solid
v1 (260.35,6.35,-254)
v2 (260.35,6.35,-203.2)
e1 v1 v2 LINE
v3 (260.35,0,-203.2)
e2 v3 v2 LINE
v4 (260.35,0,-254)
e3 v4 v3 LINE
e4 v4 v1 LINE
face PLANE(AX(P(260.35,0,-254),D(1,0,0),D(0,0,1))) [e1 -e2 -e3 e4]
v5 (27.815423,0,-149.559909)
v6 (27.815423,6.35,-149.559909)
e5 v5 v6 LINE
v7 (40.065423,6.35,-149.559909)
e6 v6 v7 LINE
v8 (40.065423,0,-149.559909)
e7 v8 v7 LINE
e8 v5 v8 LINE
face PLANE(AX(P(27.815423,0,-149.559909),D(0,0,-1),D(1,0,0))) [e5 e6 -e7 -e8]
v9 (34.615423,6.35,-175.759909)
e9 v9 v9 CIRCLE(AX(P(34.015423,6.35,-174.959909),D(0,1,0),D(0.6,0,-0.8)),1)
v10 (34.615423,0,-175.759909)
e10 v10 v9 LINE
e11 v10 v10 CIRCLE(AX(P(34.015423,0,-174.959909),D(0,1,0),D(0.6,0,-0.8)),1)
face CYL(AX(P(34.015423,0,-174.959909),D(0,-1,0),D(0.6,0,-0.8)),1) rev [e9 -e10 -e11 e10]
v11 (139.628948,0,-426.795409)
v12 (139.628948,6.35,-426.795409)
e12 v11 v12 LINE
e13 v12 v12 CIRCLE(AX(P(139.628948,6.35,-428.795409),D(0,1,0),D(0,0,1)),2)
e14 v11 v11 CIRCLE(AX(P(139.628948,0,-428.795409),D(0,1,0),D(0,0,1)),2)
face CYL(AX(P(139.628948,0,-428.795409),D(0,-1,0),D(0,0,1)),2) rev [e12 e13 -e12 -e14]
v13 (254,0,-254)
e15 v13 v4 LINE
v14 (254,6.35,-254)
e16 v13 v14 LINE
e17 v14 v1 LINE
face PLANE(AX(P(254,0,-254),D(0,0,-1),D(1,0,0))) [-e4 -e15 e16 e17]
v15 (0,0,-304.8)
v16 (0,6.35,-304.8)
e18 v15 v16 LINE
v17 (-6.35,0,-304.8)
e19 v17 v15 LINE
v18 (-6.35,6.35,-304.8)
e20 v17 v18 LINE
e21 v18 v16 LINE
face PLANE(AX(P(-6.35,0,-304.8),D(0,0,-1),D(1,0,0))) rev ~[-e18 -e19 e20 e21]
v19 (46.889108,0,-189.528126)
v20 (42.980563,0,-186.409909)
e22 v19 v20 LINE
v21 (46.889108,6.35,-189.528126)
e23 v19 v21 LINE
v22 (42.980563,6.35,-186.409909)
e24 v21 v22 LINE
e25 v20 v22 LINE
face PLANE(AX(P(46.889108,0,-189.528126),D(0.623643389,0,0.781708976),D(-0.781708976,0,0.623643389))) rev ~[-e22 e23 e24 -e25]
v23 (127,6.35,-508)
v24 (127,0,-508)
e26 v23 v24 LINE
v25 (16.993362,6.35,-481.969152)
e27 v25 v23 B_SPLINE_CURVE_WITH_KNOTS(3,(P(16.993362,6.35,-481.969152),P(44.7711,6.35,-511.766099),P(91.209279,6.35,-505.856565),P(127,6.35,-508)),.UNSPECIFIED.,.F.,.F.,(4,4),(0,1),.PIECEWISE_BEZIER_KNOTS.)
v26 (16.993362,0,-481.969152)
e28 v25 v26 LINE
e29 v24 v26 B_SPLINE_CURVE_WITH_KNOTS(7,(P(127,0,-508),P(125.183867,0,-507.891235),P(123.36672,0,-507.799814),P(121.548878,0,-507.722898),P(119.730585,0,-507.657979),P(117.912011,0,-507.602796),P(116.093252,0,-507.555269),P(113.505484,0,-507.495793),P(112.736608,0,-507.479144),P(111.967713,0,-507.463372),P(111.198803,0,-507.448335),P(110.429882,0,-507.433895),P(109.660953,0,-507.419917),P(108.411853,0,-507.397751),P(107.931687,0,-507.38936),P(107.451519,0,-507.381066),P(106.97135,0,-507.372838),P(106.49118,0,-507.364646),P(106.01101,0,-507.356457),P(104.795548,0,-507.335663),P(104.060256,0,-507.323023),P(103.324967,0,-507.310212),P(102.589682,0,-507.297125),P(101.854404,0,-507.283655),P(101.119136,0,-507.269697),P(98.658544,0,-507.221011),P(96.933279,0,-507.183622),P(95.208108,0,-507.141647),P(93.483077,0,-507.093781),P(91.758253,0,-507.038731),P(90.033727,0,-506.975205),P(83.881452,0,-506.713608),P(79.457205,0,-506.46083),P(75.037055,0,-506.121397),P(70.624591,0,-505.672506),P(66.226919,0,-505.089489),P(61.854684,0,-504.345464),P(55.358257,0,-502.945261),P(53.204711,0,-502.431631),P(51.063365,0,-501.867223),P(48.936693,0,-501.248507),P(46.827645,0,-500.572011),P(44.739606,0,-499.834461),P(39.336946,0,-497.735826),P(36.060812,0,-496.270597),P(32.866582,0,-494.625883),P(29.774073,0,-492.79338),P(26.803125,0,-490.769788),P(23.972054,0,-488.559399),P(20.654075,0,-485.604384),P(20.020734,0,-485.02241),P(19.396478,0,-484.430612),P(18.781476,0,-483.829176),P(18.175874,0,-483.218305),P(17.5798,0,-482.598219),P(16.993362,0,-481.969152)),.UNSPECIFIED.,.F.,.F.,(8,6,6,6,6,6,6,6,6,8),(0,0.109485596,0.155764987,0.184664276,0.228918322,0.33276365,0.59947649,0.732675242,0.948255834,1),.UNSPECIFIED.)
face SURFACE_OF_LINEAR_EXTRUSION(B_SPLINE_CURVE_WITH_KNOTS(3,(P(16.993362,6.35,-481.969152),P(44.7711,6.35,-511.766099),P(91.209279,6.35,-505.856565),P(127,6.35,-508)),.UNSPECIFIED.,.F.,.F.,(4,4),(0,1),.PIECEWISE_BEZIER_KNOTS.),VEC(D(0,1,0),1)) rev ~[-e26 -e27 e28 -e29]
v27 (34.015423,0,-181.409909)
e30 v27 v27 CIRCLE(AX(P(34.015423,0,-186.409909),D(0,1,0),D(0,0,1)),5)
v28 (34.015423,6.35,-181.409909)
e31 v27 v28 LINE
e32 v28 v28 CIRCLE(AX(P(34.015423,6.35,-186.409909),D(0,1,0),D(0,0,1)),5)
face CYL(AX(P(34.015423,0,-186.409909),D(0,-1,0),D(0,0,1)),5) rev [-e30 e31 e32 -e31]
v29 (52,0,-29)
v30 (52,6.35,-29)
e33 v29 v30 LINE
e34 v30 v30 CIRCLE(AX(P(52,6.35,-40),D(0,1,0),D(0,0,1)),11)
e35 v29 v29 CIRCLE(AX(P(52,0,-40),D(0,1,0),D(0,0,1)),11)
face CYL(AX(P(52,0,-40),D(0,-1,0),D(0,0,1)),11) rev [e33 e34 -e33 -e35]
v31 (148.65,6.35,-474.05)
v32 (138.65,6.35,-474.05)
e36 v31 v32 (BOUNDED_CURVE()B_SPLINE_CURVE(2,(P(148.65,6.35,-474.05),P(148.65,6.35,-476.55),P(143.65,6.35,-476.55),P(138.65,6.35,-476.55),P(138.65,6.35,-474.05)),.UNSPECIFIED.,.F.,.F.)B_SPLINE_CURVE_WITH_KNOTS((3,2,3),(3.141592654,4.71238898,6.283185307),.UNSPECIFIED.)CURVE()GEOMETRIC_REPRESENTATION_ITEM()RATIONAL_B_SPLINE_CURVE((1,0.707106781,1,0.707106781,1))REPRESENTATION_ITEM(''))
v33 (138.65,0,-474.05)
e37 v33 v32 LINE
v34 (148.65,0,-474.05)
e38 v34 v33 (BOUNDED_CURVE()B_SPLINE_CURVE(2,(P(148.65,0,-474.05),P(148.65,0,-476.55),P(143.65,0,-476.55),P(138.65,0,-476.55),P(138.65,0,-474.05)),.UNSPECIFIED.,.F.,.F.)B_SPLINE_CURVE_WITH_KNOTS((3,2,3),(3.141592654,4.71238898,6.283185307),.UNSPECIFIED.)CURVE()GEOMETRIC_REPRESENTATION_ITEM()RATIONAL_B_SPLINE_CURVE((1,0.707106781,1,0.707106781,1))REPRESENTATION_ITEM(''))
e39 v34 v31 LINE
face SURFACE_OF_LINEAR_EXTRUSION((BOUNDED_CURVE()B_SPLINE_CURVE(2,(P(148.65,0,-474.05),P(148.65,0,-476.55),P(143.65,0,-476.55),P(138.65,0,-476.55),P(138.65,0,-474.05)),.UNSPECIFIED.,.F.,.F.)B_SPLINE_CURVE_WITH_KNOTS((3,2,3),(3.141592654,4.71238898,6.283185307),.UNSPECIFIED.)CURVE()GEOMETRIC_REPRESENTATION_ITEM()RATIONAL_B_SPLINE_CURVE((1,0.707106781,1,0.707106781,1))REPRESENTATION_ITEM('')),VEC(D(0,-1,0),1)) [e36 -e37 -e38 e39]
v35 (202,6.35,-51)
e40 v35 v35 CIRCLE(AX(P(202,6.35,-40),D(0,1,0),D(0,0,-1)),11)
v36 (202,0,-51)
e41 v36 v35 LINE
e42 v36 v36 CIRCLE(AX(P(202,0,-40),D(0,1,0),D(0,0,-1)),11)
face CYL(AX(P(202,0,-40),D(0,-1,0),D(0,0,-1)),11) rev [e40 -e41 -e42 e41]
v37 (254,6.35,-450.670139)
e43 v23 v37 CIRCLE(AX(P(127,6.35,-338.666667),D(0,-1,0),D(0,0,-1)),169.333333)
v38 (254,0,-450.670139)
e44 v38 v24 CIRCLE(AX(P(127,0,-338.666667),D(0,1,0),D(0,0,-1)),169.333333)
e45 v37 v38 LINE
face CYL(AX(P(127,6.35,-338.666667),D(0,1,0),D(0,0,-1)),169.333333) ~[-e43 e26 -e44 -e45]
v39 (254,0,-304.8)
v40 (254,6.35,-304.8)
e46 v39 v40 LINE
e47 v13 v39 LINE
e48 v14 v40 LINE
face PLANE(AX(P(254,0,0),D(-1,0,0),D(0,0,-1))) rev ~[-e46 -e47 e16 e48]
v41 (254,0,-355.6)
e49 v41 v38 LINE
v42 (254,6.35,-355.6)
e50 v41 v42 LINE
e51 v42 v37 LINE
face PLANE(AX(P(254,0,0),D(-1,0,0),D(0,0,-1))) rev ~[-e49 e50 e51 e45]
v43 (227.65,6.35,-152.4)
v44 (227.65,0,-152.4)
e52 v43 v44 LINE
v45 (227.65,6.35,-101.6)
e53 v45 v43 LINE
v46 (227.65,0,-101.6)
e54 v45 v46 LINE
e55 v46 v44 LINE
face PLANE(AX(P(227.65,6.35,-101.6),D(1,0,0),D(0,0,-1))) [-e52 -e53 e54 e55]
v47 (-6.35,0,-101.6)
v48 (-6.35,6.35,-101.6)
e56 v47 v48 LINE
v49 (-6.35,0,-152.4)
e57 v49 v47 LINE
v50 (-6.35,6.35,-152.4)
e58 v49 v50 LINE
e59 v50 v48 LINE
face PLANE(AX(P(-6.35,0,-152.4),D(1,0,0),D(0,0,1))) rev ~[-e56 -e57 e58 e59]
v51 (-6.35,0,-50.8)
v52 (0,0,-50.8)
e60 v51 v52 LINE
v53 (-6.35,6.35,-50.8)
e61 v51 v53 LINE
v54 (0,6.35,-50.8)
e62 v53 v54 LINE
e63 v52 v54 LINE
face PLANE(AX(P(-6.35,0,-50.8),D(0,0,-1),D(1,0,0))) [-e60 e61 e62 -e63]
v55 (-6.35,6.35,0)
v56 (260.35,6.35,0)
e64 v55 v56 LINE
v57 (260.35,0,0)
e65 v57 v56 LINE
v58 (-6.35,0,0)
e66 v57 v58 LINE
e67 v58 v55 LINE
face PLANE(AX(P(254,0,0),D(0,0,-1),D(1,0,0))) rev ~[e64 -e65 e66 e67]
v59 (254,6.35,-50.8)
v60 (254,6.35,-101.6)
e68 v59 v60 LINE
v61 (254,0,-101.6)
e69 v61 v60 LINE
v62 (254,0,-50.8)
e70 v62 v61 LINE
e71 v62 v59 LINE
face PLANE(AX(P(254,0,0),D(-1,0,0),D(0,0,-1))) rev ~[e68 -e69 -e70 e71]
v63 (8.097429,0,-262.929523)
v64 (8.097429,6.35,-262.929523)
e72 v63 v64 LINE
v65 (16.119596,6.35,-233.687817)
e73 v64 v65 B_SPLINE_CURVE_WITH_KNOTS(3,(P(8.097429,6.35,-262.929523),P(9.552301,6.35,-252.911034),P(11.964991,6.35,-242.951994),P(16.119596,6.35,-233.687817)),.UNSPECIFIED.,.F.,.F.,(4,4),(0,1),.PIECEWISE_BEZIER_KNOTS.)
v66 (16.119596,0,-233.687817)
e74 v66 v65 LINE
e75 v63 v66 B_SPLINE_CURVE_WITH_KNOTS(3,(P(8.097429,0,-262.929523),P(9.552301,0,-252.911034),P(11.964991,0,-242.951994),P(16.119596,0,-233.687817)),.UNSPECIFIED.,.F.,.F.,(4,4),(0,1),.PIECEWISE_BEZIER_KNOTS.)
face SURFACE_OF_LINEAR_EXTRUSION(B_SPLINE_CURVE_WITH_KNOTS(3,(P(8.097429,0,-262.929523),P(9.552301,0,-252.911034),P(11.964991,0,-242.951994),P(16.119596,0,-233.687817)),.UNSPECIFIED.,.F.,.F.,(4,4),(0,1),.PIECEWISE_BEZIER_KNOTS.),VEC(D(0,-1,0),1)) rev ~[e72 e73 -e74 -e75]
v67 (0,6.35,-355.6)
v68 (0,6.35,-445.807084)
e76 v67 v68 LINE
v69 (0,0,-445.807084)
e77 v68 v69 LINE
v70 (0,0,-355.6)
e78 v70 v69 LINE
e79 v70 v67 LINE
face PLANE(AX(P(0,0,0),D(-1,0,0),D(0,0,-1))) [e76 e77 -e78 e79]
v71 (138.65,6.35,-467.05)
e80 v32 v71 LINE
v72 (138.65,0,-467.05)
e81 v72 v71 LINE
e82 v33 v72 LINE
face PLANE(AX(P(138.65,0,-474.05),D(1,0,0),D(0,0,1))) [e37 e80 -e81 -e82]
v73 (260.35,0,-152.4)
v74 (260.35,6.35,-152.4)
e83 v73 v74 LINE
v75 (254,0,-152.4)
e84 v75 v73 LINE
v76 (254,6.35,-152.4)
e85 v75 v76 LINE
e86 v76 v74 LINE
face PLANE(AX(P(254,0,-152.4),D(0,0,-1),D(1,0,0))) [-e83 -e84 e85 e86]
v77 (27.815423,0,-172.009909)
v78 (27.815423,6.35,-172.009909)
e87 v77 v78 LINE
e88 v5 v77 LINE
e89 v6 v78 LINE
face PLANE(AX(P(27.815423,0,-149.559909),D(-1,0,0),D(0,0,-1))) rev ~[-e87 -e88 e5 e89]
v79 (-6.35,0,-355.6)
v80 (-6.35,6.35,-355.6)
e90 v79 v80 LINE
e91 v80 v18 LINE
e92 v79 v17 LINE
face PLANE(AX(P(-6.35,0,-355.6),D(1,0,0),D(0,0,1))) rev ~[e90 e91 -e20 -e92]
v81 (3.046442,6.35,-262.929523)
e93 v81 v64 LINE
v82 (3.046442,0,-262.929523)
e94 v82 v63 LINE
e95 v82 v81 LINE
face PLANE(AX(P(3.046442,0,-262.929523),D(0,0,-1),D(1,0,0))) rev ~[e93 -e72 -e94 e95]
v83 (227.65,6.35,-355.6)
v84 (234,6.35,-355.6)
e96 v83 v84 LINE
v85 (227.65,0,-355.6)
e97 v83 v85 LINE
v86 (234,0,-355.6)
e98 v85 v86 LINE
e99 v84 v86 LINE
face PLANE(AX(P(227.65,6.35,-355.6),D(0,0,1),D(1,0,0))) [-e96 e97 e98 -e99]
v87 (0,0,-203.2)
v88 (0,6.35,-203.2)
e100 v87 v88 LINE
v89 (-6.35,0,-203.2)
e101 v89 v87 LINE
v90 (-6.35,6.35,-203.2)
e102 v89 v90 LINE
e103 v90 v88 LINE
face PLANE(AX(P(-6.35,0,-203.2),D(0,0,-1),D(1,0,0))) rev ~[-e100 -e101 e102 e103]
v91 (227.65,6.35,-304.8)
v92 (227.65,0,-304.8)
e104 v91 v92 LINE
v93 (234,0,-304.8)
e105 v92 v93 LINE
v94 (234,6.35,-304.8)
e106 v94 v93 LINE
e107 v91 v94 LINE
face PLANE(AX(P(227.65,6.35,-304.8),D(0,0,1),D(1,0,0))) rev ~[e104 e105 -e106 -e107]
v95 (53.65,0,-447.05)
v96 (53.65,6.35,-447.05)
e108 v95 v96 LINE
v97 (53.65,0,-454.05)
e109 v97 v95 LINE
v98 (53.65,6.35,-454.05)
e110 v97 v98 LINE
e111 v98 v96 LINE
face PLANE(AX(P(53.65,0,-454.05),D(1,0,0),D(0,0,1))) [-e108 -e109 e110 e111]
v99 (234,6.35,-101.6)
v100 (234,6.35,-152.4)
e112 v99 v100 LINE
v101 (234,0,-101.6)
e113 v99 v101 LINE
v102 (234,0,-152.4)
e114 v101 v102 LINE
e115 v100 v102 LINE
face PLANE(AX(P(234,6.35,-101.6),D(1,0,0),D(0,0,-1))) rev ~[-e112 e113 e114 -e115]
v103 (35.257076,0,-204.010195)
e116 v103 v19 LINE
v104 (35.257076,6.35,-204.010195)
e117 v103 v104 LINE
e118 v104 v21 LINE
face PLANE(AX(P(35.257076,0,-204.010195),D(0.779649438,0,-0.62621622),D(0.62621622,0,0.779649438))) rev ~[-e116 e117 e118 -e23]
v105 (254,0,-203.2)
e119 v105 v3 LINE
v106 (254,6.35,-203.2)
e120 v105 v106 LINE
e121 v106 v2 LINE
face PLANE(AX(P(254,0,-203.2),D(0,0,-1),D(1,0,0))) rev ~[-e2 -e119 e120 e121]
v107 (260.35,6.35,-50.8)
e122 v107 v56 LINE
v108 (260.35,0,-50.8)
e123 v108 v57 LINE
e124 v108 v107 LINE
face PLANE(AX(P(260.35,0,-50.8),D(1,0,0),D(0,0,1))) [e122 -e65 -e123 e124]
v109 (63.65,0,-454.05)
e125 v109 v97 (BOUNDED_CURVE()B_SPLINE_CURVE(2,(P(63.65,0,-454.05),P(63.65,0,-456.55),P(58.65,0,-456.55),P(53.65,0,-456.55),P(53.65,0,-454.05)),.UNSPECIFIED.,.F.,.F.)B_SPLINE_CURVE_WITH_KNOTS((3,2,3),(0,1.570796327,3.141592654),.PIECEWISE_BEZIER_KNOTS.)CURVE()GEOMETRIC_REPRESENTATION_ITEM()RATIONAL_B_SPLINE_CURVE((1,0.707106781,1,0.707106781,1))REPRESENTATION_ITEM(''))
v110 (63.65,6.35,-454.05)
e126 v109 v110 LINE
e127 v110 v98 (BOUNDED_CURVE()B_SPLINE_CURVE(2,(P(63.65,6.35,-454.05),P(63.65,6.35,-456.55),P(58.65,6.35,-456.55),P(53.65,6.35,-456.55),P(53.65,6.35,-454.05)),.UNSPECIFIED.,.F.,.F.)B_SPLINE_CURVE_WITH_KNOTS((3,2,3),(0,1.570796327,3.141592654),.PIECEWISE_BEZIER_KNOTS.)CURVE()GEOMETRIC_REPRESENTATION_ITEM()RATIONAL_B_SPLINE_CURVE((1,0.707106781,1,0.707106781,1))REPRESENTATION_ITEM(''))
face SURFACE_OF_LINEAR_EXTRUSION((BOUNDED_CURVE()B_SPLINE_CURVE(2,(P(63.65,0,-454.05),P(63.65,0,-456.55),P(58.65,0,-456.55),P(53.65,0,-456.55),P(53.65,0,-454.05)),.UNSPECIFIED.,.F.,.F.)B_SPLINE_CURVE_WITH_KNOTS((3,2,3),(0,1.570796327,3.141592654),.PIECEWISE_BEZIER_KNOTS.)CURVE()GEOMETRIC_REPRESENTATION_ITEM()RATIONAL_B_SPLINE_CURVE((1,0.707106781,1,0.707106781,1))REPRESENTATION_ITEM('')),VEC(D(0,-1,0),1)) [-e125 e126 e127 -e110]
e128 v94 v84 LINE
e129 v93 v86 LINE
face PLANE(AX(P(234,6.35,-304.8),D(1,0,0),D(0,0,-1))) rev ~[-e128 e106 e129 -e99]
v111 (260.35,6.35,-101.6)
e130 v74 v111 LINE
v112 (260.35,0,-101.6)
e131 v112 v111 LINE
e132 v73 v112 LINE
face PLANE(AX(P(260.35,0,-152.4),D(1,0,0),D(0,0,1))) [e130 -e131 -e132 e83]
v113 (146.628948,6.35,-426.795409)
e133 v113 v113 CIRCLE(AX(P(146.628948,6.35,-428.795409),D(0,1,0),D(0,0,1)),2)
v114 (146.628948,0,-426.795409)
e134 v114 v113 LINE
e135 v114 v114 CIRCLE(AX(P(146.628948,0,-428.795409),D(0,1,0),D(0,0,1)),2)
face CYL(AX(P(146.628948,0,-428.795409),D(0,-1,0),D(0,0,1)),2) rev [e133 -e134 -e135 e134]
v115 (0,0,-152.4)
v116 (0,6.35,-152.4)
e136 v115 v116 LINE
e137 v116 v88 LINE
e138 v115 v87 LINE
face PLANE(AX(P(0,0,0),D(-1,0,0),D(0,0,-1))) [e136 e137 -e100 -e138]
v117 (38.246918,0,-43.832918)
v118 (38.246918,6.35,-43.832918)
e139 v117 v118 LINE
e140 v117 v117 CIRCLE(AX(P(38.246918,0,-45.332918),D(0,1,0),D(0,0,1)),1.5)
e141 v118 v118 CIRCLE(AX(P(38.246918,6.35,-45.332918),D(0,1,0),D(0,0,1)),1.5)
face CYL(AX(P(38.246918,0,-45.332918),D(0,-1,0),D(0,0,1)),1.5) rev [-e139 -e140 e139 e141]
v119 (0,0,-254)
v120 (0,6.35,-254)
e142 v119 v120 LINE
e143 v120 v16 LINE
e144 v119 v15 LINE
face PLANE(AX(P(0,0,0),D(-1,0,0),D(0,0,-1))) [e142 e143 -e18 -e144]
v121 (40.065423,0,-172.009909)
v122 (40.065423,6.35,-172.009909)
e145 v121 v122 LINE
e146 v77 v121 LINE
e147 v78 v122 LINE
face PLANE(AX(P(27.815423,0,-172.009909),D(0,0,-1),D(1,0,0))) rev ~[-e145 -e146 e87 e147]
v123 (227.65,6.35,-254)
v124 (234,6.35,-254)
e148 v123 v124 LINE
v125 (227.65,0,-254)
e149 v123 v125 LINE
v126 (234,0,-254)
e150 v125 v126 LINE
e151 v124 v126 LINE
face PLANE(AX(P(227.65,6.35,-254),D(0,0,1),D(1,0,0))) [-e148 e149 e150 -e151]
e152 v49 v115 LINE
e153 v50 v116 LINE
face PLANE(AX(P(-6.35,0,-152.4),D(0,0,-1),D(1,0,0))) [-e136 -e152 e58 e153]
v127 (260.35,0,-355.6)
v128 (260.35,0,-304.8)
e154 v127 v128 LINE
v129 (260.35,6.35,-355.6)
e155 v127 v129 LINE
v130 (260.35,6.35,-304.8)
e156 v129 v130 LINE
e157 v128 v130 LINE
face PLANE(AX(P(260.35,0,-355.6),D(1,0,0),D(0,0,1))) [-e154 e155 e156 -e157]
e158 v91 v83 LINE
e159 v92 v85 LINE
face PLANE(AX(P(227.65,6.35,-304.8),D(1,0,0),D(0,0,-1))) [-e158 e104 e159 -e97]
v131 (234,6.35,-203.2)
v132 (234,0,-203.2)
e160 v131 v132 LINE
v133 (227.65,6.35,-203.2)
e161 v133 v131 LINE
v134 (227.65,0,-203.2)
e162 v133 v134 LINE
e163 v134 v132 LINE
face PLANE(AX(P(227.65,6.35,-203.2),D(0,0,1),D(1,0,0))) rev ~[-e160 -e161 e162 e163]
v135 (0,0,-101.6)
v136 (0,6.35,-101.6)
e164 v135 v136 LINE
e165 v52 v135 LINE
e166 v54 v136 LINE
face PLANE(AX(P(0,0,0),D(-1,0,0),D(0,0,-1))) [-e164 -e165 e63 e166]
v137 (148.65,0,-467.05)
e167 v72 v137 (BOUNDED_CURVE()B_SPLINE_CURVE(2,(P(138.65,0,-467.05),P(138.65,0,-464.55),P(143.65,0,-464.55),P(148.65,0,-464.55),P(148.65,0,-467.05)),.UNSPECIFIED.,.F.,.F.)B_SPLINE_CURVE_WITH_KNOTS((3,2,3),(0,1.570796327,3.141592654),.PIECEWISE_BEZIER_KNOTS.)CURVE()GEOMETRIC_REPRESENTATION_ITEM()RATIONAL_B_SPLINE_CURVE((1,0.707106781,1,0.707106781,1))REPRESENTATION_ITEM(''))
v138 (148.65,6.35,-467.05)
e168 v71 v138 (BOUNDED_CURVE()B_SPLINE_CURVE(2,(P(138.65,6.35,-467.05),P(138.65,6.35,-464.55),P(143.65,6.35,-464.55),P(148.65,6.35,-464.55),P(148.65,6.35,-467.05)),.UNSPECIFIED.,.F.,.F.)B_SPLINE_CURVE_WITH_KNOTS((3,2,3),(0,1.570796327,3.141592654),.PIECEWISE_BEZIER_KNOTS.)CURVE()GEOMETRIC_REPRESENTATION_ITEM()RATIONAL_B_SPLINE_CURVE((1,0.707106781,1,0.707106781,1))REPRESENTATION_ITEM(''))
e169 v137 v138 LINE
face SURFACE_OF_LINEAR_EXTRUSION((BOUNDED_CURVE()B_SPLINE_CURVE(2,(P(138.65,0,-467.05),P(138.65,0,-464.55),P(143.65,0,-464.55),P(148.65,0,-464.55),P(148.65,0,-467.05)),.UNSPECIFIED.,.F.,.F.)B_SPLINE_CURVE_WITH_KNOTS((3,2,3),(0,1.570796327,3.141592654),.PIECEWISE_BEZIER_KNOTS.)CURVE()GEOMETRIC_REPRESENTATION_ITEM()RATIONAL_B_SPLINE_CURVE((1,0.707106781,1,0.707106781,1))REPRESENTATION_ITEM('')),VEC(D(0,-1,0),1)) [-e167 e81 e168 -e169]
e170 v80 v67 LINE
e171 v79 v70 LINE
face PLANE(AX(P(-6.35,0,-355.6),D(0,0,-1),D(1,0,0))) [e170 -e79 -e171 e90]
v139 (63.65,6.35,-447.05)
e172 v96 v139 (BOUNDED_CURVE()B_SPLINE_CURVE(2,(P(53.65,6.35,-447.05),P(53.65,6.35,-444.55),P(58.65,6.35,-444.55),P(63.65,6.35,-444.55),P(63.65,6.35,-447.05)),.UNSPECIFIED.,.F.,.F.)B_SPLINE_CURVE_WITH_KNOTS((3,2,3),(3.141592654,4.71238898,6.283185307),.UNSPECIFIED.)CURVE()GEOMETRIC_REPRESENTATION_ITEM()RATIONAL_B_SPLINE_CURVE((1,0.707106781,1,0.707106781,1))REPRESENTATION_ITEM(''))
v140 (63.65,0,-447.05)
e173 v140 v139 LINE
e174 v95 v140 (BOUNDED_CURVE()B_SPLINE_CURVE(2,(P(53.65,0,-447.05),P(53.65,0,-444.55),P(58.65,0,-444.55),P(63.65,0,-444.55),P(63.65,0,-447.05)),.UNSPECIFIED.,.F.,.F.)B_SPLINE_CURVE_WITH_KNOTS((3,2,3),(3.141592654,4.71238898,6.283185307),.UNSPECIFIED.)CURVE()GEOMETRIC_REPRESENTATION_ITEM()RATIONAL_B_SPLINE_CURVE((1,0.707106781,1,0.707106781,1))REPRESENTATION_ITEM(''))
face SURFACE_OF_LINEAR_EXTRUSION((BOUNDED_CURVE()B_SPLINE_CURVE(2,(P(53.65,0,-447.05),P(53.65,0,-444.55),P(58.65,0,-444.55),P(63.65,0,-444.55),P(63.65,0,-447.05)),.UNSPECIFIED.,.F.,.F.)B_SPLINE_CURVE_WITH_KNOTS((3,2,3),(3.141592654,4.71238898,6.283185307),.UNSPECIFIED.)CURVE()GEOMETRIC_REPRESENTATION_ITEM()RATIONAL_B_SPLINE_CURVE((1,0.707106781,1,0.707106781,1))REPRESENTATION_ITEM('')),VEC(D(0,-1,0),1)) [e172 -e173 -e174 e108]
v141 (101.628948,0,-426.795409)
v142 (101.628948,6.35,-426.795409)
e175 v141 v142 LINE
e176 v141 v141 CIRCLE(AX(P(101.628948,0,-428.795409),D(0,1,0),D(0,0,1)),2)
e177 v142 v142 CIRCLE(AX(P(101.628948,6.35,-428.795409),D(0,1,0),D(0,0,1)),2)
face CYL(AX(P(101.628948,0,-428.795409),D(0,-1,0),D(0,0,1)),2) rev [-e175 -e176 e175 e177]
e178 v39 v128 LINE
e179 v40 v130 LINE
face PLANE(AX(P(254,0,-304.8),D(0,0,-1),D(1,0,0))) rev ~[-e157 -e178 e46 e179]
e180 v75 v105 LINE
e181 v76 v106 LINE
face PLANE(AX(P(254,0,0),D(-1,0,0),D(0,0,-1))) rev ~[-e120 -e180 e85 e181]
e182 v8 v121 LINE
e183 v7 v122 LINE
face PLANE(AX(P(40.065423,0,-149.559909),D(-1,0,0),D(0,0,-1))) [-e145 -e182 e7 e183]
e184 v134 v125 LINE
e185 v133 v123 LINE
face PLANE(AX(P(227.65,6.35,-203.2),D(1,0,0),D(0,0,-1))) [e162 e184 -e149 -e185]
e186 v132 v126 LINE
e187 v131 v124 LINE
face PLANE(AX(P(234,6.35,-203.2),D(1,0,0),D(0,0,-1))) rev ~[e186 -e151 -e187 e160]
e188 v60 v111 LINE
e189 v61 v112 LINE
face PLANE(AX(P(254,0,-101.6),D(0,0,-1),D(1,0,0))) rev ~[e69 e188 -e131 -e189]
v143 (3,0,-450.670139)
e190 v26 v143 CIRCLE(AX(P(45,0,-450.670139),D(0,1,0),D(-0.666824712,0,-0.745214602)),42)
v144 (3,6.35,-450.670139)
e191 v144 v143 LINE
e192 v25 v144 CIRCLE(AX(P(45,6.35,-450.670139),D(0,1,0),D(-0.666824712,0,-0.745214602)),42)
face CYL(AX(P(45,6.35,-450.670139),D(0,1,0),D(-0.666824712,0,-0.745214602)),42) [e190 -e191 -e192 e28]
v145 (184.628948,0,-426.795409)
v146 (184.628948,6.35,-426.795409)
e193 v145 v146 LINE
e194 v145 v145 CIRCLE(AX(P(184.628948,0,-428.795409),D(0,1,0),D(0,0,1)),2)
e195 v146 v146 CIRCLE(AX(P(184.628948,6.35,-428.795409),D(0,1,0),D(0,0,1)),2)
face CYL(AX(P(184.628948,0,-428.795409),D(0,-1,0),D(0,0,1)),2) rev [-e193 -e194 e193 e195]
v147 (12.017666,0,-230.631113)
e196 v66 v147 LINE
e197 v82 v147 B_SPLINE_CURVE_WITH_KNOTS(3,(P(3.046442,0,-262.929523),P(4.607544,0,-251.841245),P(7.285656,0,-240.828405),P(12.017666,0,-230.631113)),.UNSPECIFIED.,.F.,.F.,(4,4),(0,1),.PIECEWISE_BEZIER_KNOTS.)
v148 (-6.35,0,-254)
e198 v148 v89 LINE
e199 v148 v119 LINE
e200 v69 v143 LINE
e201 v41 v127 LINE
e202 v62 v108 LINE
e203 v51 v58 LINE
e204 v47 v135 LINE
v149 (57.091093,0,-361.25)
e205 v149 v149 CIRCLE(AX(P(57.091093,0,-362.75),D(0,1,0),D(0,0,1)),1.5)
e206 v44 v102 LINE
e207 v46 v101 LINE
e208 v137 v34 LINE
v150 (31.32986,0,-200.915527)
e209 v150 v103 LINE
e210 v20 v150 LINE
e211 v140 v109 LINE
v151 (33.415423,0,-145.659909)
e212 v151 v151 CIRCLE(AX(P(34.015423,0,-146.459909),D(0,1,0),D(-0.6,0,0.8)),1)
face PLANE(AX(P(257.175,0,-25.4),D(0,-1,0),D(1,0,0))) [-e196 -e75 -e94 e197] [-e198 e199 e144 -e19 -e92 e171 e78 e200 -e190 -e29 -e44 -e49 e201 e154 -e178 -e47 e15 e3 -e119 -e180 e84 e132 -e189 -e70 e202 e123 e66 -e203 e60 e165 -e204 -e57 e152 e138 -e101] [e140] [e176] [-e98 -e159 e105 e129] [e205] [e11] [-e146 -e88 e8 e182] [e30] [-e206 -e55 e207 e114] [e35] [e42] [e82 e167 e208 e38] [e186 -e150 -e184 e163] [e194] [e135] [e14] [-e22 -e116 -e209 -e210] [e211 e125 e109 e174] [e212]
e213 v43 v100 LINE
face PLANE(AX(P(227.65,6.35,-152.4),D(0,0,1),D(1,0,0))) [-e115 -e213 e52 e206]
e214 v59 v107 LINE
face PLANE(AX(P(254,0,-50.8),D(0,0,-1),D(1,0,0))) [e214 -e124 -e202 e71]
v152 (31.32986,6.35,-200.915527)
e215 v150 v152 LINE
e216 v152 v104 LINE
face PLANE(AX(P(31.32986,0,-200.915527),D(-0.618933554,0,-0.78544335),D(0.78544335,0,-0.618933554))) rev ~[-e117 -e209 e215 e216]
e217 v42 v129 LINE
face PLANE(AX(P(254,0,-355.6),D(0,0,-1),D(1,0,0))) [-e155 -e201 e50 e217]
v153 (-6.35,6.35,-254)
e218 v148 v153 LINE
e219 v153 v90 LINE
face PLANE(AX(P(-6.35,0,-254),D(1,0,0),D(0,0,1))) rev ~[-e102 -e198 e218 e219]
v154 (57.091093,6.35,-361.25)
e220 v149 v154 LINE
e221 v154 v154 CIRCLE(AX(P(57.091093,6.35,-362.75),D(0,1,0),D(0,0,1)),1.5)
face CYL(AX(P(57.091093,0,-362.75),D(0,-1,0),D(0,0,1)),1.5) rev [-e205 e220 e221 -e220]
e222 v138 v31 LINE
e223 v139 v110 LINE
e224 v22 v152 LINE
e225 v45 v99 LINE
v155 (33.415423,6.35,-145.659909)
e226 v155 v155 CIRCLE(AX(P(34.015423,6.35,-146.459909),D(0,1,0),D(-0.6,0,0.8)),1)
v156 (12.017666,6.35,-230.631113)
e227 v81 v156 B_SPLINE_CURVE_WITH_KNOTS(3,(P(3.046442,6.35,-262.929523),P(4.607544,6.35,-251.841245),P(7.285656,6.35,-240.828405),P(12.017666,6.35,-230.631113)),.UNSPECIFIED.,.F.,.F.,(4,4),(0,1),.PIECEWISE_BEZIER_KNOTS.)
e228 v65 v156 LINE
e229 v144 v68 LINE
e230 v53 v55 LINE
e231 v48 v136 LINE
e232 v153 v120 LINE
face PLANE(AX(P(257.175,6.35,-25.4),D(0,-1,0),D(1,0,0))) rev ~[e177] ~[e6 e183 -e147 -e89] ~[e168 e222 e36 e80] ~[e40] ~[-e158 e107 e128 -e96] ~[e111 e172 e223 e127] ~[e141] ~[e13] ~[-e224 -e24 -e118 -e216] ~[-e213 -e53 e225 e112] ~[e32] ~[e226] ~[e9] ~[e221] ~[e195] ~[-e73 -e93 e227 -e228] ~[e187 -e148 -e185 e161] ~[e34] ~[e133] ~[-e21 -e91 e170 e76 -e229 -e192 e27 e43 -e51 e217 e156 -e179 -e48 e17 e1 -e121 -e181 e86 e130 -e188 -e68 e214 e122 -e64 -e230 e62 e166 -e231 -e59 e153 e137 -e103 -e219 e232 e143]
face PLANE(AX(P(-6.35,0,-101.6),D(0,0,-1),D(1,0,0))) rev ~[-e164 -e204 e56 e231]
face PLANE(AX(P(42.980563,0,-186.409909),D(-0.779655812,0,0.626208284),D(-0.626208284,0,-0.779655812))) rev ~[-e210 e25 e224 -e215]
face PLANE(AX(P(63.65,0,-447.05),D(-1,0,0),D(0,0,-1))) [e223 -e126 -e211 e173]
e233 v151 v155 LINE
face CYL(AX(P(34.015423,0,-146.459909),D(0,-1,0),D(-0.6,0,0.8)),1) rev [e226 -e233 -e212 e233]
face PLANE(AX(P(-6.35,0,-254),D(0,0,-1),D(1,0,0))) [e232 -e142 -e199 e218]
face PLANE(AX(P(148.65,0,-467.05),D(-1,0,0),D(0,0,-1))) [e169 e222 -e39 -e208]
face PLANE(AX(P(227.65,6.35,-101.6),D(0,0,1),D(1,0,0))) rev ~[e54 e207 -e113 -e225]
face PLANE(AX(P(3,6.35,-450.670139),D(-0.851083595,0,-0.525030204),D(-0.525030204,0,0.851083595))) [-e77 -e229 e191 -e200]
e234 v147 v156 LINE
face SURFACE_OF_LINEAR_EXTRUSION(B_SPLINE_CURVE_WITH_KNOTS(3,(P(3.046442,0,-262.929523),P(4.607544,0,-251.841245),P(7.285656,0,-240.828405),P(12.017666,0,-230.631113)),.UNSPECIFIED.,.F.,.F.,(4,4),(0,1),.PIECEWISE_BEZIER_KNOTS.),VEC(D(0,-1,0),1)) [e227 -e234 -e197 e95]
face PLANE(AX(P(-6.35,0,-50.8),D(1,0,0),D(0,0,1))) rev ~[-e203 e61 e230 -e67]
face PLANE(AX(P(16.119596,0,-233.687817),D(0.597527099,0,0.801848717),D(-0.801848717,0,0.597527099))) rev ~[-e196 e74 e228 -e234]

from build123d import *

# Parameters (mm, degrees)
SKETCH2_W           = 254
SKETCH2_H           = 508
SKETCH2_R           = 11
SKETCH2_R_2         = 1.5
SKETCH2_R_3         = 5
SKETCH2_R_4         = 2
SKETCH2_W_2         = 12.25
SKETCH2_H_2         = 22.45
BOSS_EXTRUDE1_DEPTH = 6.35
CUT_EXTRUDE1_REACH  = 569.997
CUT_EXTRUDE2_REACH  = 569.997
SKETCH7_W           = 6.35
SKETCH7_H           = 50.8
BOSS_EXTRUDE2_DEPTH = 6.35
LPATTERN1_COUNT     = 4
LPATTERN1_PITCH     = 101.6
CUT_EXTRUDE3_REACH  = 572.865
SKETCH8_W           = 6.35
SKETCH8_H           = 50.8
LPATTERN2_COUNT     = 3
LPATTERN2_PITCH     = 101.6


with BuildPart() as part:
    # Sketch2 → Boss-Extrude1 (new body)
    with BuildSketch(Plane(origin=(0, 0, 0), x_dir=(1, 0, 0), z_dir=(0, 1, 0))):
        with Locations((127, 254)):
            Rectangle(SKETCH2_W, SKETCH2_H)
        with Locations(Location((52, 40, 0), (0, 0, 270))):
            Circle(SKETCH2_R, mode=Mode.SUBTRACT)
        with Locations(Location((202, 40, 0), (0, 0, 90))):
            Circle(SKETCH2_R, mode=Mode.SUBTRACT)
        with Locations(Location((38.246918035, 45.332917816, 0), (0, 0, 270))):
            Circle(SKETCH2_R_2, mode=Mode.SUBTRACT)
        with Locations(Location((34.015423002, 186.409908658, 0), (0, 0, 270))):
            Circle(SKETCH2_R_3, mode=Mode.SUBTRACT)
        with Locations(Location((57.09109314, 362.75, 0), (0, 0, 270))):
            Circle(SKETCH2_R_2, mode=Mode.SUBTRACT)
        with Locations(Location((184.628948138, 428.795408939, 0), (0, 0, 270))):
            Circle(SKETCH2_R_4, mode=Mode.SUBTRACT)
        with Locations(Location((146.628948138, 428.795408939, 0), (0, 0, 270))):
            Circle(SKETCH2_R_4, mode=Mode.SUBTRACT)
        with Locations(Location((139.628948138, 428.795408939, 0), (0, 0, 270))):
            Circle(SKETCH2_R_4, mode=Mode.SUBTRACT)
        with Locations(Location((101.628948138, 428.795408939, 0), (0, 0, 270))):
            Circle(SKETCH2_R_4, mode=Mode.SUBTRACT)
        with BuildLine():
            Line((3.046441744, 262.929522506), (8.097429065, 262.929522506))
            add(Edge.make_bspline(
                [(8.097429065, 262.929522506), (9.552300843, 252.9110337), (11.964991372, 242.951994092), (16.119595939, 233.68781707)],
                knots=[0, 0, 0, 0, 1, 1, 1, 1], degree=3))
            Line((16.119595939, 233.68781707), (12.017665952, 230.63111289))
            add(Edge.make_bspline(
                [(3.046441744, 262.929522506), (4.60754392, 251.841244803), (7.285656471, 240.828405001), (12.017665952, 230.63111289)],
                knots=[0, 0, 0, 0, 1, 1, 1, 1], degree=3))
        make_face(mode=Mode.SUBTRACT)
        Polygon((31.329859517, 200.915527121), (35.257076266, 204.010194891), (46.889107588, 189.528125605), (42.980562709, 186.409908658), align=None, mode=Mode.SUBTRACT)
        with Locations((33.940423002, 160.784908658)):
            Rectangle(SKETCH2_W_2, SKETCH2_H_2, mode=Mode.SUBTRACT)
        with BuildLine():
            Line((138.65, 474.05), (138.65, 467.05))
            add(Edge.make_bspline(
                [(138.65, 467.05), (138.65, 464.55), (143.65, 464.55), (148.65, 464.55), (148.65, 467.05)],
                knots=[0, 0, 0, 1.570796327, 1.570796327, 3.141592654, 3.141592654, 3.141592654], degree=2, weights=[1, 0.707106781, 1, 0.707106781, 1]))
            Line((148.65, 467.05), (148.65, 474.05))
            add(Edge.make_bspline(
                [(148.65, 474.05), (148.65, 476.55), (143.65, 476.55), (138.65, 476.55), (138.65, 474.05)],
                knots=[3.141592654, 3.141592654, 3.141592654, 4.71238898, 4.71238898, 6.283185307, 6.283185307, 6.283185307], degree=2, weights=[1, 0.707106781, 1, 0.707106781, 1]))
        make_face(mode=Mode.SUBTRACT)
        with BuildLine():
            Line((63.65, 447.05), (63.65, 454.05))
            add(Edge.make_bspline(
                [(63.65, 454.05), (63.65, 456.55), (58.65, 456.55), (53.65, 456.55), (53.65, 454.05)],
                knots=[0, 0, 0, 1.570796327, 1.570796327, 3.141592654, 3.141592654, 3.141592654], degree=2, weights=[1, 0.707106781, 1, 0.707106781, 1]))
            Line((53.65, 454.05), (53.65, 447.05))
            add(Edge.make_bspline(
                [(53.65, 447.05), (53.65, 444.55), (58.65, 444.55), (63.65, 444.55), (63.65, 447.05)],
                knots=[3.141592654, 3.141592654, 3.141592654, 4.71238898, 4.71238898, 6.283185307, 6.283185307, 6.283185307], degree=2, weights=[1, 0.707106781, 1, 0.707106781, 1]))
        make_face(mode=Mode.SUBTRACT)
        with BuildLine():
            ThreePointArc((33.415423002, 175.759908658), (34.015423002, 173.959908658), (34.615423002, 175.759908658))
            ThreePointArc((34.615423002, 175.759908658), (34.015423002, 175.959908658), (33.415423002, 175.759908658))
        make_face(mode=Mode.SUBTRACT)
        with BuildLine():
            ThreePointArc((34.615423002, 145.659908658), (34.015423002, 147.459908658), (33.415423002, 145.659908658))
            ThreePointArc((33.415423002, 145.659908658), (34.015423002, 145.459908658), (34.615423002, 145.659908658))
        make_face(mode=Mode.SUBTRACT)
    extrude(amount=BOSS_EXTRUDE1_DEPTH)

    # Sketch3 → Cut-Extrude1 (cut, up to next)
    with BuildSketch(Plane(origin=(0, 6.35, 0), x_dir=(1, 0, 0), z_dir=(0, 1, 0)), mode=Mode.PRIVATE) as cut_extrude1_sk1:
        with BuildLine():
            Line((254, 508), (127, 508))
            ThreePointArc((127, 508), (196.670138835, 493.003472168), (254, 450.670138835))
            Line((254, 450.670138835), (254, 508))
        make_face()
    cut_extrude1_tool1 = extrude(cut_extrude1_sk1.sketch, amount=-CUT_EXTRUDE1_REACH, mode=Mode.PRIVATE) & part.part
    add(cut_extrude1_tool1.solids().sort_by_distance((223.425214, 6.35, -491.44845))[0], mode=Mode.SUBTRACT)

    # Sketch5 → Cut-Extrude2 (cut, up to next)
    with BuildSketch(Plane(origin=(0, 6.35, 0), x_dir=(1, 0, 0), z_dir=(0, 1, 0)), mode=Mode.PRIVATE) as cut_extrude2_sk1:
        with BuildLine():
            Line((3, 450.670138835), (0, 445.807083784))
            Line((0, 445.807083784), (0, 508))
            Line((0, 508), (0, 526.766169575))
            Line((0, 526.766169575), (127, 526.766169575))
            Line((127, 526.766169575), (127, 508))
            add(Edge.make_bspline(
                [(16.993362097, 481.969152132), (44.771100023, 511.766098677), (91.209279055, 505.856564635), (127, 508)],
                knots=[0, 0, 0, 0, 1, 1, 1, 1], degree=3))
            ThreePointArc((16.993362097, 481.969152132), (6.657603153, 467.812501684), (3, 450.670138835))
        make_face()
    cut_extrude2_tool1 = extrude(cut_extrude2_sk1.sketch, amount=-CUT_EXTRUDE2_REACH, mode=Mode.PRIVATE) & part.part
    add(cut_extrude2_tool1.solids().sort_by_distance((49.030169, 6.35, -509.000401))[0], mode=Mode.SUBTRACT)

    # Sketch7 → Boss-Extrude2 (add)
    with BuildSketch(Plane.XZ):
        with Locations((257.175, -25.4)):
            Rectangle(SKETCH7_W, SKETCH7_H)
        with Locations((-3.175, -25.4)):
            Rectangle(SKETCH7_W, SKETCH7_H)
    boss_extrude2 = extrude(amount=-BOSS_EXTRUDE2_DEPTH)

    # LPattern1: Boss-Extrude2 ×4
    with Locations(*[(0, 0, -i * LPATTERN1_PITCH) for i in range(1, LPATTERN1_COUNT)]):
        add(boss_extrude2)

    # Sketch8 → Cut-Extrude3 (cut, up to next)
    with BuildSketch(Plane(origin=(0, 6.35, 0), x_dir=(1, 0, 0), z_dir=(0, 1, 0)), mode=Mode.PRIVATE) as cut_extrude3_sk1:
        with Locations((230.825, 127)):
            Rectangle(SKETCH8_W, SKETCH8_H)
    cut_extrude3_tool1 = extrude(cut_extrude3_sk1.sketch, amount=-CUT_EXTRUDE3_REACH, mode=Mode.PRIVATE) & part.part
    cut_extrude3 = cut_extrude3_tool1.solids().sort_by_distance((230.825, 6.35, -127))[0]
    add(cut_extrude3, mode=Mode.SUBTRACT)

    # LPattern2: Cut-Extrude3 ×3
    with Locations(*[(0, 0, -i * LPATTERN2_PITCH) for i in range(1, LPATTERN2_COUNT)]):
        add(cut_extrude3, mode=Mode.SUBTRACT)


solid = part.part
